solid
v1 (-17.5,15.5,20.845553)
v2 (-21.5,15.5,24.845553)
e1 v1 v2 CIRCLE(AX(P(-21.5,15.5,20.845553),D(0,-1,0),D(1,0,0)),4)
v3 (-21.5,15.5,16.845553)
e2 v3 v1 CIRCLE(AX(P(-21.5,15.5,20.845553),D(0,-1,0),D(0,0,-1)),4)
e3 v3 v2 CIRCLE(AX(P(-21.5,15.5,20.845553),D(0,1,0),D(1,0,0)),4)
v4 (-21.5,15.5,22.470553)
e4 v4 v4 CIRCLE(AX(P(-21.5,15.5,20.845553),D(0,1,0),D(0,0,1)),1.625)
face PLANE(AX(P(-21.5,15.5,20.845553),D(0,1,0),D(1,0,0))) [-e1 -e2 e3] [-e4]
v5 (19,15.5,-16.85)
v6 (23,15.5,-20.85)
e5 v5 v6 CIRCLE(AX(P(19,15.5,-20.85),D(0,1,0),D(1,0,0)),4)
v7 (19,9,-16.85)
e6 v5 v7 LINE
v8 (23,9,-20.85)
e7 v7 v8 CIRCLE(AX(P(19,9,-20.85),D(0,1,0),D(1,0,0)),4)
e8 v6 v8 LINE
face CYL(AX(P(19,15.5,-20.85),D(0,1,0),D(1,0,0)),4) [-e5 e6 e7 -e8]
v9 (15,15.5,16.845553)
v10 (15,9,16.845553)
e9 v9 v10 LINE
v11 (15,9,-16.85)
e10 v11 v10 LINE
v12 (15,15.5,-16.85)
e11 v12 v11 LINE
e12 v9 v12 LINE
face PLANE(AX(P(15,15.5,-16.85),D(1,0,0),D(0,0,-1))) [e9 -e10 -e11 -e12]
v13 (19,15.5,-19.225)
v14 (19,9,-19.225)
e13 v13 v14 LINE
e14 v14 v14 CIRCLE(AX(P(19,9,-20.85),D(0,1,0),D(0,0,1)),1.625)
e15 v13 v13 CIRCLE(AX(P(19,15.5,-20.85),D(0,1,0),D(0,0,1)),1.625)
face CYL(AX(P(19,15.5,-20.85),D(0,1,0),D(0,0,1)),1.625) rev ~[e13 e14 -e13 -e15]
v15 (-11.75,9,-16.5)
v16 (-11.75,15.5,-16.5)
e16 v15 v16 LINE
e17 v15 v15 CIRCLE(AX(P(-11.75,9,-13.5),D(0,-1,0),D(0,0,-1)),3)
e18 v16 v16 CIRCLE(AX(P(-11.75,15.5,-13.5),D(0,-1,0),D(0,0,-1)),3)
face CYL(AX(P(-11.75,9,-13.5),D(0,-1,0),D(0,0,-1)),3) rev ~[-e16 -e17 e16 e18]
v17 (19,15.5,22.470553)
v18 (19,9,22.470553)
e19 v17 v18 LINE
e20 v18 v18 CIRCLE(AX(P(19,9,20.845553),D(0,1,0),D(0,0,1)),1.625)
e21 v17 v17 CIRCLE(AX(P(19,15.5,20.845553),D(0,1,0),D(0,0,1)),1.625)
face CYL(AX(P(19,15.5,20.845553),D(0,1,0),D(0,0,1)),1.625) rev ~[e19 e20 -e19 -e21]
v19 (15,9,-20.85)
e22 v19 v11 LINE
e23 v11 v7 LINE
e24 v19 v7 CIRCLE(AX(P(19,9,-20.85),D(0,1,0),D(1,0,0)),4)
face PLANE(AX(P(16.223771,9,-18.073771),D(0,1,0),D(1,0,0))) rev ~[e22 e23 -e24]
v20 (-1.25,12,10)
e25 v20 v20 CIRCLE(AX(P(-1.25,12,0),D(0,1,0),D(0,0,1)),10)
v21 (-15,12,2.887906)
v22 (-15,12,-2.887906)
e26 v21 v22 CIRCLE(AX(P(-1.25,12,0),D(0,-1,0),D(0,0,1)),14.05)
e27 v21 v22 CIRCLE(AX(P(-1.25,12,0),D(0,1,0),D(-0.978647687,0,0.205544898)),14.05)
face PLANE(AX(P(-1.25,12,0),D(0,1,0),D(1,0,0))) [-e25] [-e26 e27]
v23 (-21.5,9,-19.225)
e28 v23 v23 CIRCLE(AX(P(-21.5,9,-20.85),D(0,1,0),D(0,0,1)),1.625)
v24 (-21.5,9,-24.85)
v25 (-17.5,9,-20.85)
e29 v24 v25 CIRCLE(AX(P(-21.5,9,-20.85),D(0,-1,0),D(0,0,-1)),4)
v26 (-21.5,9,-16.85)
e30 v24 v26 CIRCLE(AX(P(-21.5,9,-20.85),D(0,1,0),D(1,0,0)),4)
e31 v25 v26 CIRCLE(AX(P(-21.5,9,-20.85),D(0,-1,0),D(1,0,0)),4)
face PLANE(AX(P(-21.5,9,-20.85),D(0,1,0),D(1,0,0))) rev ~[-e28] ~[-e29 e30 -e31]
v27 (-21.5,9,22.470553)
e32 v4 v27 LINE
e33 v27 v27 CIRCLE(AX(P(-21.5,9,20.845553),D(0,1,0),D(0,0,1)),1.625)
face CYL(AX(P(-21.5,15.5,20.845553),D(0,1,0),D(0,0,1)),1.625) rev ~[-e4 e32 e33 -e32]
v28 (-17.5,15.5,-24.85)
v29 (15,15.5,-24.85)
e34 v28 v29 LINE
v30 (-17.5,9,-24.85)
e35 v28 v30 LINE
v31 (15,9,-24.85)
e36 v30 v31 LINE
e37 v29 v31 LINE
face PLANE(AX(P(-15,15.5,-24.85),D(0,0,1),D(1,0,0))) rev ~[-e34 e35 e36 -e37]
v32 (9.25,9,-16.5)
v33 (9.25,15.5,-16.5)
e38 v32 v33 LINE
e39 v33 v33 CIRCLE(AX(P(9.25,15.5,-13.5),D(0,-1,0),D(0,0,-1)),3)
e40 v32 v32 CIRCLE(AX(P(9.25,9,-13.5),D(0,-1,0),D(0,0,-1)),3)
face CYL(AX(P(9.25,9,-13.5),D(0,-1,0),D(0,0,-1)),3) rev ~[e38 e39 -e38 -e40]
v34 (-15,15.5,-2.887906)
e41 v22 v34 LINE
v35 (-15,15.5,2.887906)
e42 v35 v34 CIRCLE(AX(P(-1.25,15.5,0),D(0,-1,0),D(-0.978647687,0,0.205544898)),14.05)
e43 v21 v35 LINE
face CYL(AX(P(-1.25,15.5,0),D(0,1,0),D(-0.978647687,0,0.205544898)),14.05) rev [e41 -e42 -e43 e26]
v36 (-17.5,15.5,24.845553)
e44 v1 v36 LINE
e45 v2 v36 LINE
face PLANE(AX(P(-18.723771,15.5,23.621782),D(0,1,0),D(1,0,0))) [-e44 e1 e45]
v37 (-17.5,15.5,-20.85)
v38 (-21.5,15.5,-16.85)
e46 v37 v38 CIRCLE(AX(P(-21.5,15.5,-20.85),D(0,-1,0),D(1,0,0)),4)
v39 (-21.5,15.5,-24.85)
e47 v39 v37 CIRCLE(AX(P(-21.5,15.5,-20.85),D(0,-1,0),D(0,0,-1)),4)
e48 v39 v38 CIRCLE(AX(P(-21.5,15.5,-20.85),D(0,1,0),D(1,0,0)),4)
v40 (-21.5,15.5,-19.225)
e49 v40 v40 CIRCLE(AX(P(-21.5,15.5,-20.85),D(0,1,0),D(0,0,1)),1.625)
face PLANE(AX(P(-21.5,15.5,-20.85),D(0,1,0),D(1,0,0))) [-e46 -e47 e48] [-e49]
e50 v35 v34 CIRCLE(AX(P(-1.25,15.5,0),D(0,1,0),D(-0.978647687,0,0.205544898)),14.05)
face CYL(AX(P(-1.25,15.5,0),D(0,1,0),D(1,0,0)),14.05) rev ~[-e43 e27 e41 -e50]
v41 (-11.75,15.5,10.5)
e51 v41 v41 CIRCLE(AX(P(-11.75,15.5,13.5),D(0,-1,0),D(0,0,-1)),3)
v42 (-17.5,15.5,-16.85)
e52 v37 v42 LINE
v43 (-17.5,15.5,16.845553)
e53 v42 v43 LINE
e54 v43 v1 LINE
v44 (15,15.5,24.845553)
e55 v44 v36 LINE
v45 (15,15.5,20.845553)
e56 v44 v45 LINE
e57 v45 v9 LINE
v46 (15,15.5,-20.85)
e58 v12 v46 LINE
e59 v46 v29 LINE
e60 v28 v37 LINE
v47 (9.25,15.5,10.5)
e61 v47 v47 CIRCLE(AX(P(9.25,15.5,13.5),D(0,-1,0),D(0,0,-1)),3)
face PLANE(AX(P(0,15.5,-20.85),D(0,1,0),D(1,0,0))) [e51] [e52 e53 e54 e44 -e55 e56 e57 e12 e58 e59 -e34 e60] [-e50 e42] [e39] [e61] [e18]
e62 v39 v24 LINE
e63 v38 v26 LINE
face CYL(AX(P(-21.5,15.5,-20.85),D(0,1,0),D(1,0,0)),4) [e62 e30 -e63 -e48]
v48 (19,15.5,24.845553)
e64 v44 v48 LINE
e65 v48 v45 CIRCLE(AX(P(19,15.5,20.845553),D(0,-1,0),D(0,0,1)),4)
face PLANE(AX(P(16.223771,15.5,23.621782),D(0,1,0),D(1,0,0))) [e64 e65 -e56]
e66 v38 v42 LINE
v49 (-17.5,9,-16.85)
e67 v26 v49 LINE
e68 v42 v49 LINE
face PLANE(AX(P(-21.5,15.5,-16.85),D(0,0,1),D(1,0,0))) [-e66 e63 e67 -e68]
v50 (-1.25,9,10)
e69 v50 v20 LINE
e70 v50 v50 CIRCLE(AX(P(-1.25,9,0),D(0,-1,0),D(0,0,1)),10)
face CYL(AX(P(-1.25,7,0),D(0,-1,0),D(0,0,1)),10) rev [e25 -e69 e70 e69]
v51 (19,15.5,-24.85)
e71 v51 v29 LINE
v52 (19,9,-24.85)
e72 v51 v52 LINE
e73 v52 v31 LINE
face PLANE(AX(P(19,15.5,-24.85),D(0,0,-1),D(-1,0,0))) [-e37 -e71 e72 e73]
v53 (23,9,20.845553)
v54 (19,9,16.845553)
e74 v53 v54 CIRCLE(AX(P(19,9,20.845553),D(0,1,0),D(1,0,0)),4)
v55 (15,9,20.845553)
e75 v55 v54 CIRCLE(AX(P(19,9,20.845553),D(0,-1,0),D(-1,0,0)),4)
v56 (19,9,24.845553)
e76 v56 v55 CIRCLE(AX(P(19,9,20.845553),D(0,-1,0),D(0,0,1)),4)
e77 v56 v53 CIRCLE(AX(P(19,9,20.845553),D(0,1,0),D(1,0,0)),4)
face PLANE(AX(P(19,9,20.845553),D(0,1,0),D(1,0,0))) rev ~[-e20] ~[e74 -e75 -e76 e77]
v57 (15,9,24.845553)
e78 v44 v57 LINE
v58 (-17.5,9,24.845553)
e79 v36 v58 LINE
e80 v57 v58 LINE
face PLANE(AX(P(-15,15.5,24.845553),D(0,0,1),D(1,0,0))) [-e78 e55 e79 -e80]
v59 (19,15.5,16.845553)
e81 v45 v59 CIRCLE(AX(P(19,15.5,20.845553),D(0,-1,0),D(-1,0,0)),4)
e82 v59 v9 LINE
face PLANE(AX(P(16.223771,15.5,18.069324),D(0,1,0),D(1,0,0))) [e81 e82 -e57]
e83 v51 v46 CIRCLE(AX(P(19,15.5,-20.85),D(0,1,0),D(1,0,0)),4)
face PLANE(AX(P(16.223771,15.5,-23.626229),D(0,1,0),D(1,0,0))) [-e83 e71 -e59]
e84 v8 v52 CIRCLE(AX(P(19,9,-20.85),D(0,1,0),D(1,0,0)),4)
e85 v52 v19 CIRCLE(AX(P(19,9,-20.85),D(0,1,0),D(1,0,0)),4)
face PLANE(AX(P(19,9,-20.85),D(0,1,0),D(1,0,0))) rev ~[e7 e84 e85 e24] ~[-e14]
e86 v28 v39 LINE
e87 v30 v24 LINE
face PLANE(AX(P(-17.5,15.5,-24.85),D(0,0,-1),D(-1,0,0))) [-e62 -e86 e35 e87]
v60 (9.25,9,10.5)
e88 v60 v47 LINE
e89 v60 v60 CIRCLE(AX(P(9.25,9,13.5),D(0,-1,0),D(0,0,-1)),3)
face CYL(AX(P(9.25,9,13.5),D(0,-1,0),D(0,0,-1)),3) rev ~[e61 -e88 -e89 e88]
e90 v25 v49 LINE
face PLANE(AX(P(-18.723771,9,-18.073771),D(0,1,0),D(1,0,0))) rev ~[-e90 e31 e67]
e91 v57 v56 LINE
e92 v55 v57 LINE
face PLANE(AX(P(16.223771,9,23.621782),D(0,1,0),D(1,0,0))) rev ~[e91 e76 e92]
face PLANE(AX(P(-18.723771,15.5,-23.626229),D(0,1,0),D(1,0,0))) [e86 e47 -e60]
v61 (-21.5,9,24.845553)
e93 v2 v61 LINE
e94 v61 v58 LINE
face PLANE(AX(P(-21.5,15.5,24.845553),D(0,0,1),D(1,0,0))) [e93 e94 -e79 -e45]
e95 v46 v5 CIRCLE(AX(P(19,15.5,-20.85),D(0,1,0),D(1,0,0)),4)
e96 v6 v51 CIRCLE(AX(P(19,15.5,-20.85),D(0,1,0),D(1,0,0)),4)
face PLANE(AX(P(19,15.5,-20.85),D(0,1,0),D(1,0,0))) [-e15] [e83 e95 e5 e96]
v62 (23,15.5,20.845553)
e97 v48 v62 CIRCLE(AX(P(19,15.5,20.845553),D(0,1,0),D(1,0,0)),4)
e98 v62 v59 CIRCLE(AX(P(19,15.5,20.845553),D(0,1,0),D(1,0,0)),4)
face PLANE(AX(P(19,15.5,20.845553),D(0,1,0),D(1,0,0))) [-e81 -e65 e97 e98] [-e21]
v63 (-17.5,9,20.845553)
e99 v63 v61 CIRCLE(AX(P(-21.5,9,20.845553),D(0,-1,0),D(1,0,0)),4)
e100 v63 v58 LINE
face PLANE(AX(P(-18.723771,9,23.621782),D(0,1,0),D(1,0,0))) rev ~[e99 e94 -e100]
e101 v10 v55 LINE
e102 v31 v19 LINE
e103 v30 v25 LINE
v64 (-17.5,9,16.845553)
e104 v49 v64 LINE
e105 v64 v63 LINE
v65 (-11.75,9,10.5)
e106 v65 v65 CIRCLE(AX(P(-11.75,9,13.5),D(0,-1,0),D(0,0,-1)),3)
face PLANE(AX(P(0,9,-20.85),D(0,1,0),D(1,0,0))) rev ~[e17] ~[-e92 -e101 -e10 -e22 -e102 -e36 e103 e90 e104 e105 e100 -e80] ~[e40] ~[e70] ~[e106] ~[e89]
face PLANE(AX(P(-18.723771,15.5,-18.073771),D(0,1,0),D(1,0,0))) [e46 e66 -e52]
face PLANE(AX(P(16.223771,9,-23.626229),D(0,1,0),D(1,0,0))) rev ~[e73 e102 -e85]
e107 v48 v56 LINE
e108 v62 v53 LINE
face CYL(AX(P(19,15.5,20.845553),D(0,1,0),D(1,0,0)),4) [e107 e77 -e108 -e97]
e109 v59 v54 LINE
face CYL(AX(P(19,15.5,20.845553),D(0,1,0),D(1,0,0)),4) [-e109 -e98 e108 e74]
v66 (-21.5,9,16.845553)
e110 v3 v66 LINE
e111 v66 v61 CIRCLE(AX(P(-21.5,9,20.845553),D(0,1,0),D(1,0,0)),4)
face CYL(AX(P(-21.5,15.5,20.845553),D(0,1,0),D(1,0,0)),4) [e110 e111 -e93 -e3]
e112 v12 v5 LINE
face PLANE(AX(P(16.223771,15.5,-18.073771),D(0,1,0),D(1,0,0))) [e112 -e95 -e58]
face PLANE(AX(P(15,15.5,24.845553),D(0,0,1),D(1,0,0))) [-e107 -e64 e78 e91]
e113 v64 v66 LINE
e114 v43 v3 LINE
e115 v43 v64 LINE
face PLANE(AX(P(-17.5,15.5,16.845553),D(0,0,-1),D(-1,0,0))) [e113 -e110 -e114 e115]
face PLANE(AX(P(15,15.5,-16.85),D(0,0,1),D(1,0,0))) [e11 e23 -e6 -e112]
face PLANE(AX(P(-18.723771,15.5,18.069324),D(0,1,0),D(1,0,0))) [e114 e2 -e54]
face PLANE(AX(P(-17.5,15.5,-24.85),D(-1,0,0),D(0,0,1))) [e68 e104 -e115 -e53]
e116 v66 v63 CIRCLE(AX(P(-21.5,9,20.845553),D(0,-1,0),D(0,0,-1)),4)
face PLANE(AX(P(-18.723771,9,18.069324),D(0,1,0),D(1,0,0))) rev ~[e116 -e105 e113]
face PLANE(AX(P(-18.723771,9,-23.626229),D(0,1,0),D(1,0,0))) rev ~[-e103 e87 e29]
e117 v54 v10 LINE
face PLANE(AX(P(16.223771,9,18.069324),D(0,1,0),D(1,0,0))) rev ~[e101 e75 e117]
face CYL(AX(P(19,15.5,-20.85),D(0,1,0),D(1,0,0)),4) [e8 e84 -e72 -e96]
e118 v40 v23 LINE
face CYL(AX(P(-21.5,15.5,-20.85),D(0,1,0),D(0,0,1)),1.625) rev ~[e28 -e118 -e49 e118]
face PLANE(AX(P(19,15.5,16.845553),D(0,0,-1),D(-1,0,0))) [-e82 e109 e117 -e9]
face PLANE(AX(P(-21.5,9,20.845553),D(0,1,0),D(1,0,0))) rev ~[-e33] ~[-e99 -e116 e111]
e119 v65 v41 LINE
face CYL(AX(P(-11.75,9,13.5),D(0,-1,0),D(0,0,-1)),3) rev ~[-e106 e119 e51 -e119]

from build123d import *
from build123d.topology import SkipClean

# Parameters (mm, degrees)
SKETCH1_R            = 1.375
SKETCH1_R_2          = 1.460845326
SKETCH1_R_3          = 1.480655282
BOSS_EXTRUDE1_DEPTH  = 15
BOSS_EXTRUDE2_START  = -8
SKETCH2_R            = 14
SKETCH2_R_2          = 10
BOSS_EXTRUDE2_DEPTH  = 8
CUT_EXTRUDE1_START   = -3
SKETCH3_R            = 14
SKETCH3_R_2          = 10
CUT_EXTRUDE1_DEPTH   = 3
SKETCH5_R            = 1.480655282
SKETCH5_R_2          = 1.375
SKETCH5_R_3          = 1.460845326
BOSS_EXTRUDE3_DEPTH  = 0.5
SKETCH6_W            = 32.415484222
SKETCH6_H            = 34.71462202
CUT_EXTRUDE2_DEPTH   = 7
SKETCH7_W            = 33.435139342
SKETCH7_H            = 35.82697306
CUT_EXTRUDE3_DEPTH   = 2
BOSS_EXTRUDE4_DEPTH  = 6.5
SKETCH9_R            = 3.5
SKETCH9_R_2          = 1.625
CUT_EXTRUDE4_DEPTH   = 3
SKETCH10_R           = 3
CUT_EXTRUDE5_DEPTH   = 28
SKETCH11_R           = 14.05
CUT_EXTRUDE6_DEPTH   = 3.5
SKETCH12_W           = 30
SKETCH12_H           = 8
SKETCH12_H_2         = 7.99555269
BOSS_EXTRUDE5_DEPTH  = 6.5
BOSS_EXTRUDE8_DEPTH  = 6.5
BOSS_EXTRUDE9_START  = -3
SKETCH15_R           = 14.05
SKETCH15_R_2         = 14
BOSS_EXTRUDE9_DEPTH  = 3
SKETCH16_R           = 4
SKETCH16_R_2         = 1.625
BOSS_EXTRUDE10_DEPTH = 6.5


with BuildPart() as part:
    # Sketch1 → Boss-Extrude1 (new body)
    with BuildSketch(Plane(origin=(0, 0, 0), x_dir=(1, 0, 0), z_dir=(0, 1, 0))):
        with BuildLine():
            Line((-15, -16.85), (15, -16.85))
            Line((15, -16.85), (15, 16.85))
            Line((15, 16.85), (-15, 16.85))
            Line((-15, 16.85), (-15, 2.633913438))
            ThreePointArc((-15, 2.633913438), (0.072875656, 13.937359865), (12.75, 0))
            ThreePointArc((12.75, 0), (0.072875656, -13.937359865), (-15, -2.633913438))
            Line((-15, -2.633913438), (-15, -16.85))
        make_face()
        with Locations(Location((-11.75, -13.5, 0), (0, 0, 270))):
            Circle(SKETCH1_R, mode=Mode.SUBTRACT)
        with Locations(Location((9.25, -13.5, 0), (0, 0, 270))):
            Circle(SKETCH1_R_2, mode=Mode.SUBTRACT)
        with Locations(Location((-11.75, 13.5, 0), (0, 0, 270))):
            Circle(SKETCH1_R, mode=Mode.SUBTRACT)
        with Locations(Location((9.25, 13.5, 0), (0, 0, 270))):
            Circle(SKETCH1_R_3, mode=Mode.SUBTRACT)
    extrude(amount=BOSS_EXTRUDE1_DEPTH)

    # Sketch2 → Boss-Extrude2 (add)
    with BuildSketch(Plane(origin=(0, 15, 0), x_dir=(1, 0, 0), z_dir=(0, 1, 0)).offset(BOSS_EXTRUDE2_START)):
        with Locations((-1.25, 0)):
            Circle(SKETCH2_R)
        with Locations(Location((-1.25, 0, 0), (0, 0, 270))):
            Circle(SKETCH2_R_2, mode=Mode.SUBTRACT)
    extrude(amount=BOSS_EXTRUDE2_DEPTH)

    # Sketch3 → Cut-Extrude1 (cut)
    with BuildSketch(Plane(origin=(0, 15, 0), x_dir=(1, 0, 0), z_dir=(0, 1, 0)).offset(CUT_EXTRUDE1_START)):
        with Locations((-1.25, 0)):
            Circle(SKETCH3_R)
        with Locations(Location((-1.25, 0, 0), (0, 0, 270))):
            Circle(SKETCH3_R_2, mode=Mode.SUBTRACT)
    extrude(amount=CUT_EXTRUDE1_DEPTH, mode=Mode.SUBTRACT)

    # Sketch5 → Boss-Extrude3 (add)
    with BuildSketch(Plane(origin=(0, 15, 0), x_dir=(1, 0, 0), z_dir=(0, 1, 0))):
        with BuildLine():
            Line((-15, 16.85), (-15, 2.633913438))
            ThreePointArc((-15, 2.633913438), (12.75, 0), (-15, -2.633913438))
            Line((-15, -2.633913438), (-15, -16.85))
            Line((-15, -16.85), (15, -16.85))
            Line((15, -16.85), (15, 16.85))
            Line((15, 16.85), (-15, 16.85))
        make_face()
        with Locations(Location((9.25, 13.5, 0), (0, 0, 270))):
            Circle(SKETCH5_R, mode=Mode.SUBTRACT)
        with Locations(Location((-11.75, -13.5, 0), (0, 0, 270))):
            Circle(SKETCH5_R_2, mode=Mode.SUBTRACT)
        with Locations(Location((-11.75, 13.5, 0), (0, 0, 270))):
            Circle(SKETCH5_R_2, mode=Mode.SUBTRACT)
        with Locations(Location((9.25, -13.5, 0), (0, 0, 270))):
            Circle(SKETCH5_R_3, mode=Mode.SUBTRACT)
    extrude(amount=BOSS_EXTRUDE3_DEPTH)

    # Sketch6 → Cut-Extrude2 (cut)
    with BuildSketch(Plane.XZ):
        Rectangle(SKETCH6_W, SKETCH6_H)
    extrude(amount=-CUT_EXTRUDE2_DEPTH, mode=Mode.SUBTRACT)

    # Sketch7 → Cut-Extrude3 (cut)
    with BuildSketch(Plane.XZ.offset(-7)):
        Rectangle(SKETCH7_W, SKETCH7_H)
    extrude(amount=-CUT_EXTRUDE3_DEPTH, mode=Mode.SUBTRACT)

    # Sketch8 → Boss-Extrude4 (add)
    with BuildSketch(Plane.XZ.offset(-9)):
        with BuildLine():
            Line((3.5, 16.85), (3.5, 20.35))
            ThreePointArc((3.5, 20.35), (2.474873725, 17.875126257), (-2.6e-08, 16.85))
            Line((-2.6e-08, 16.85), (3.5, 16.85))
        make_face()
        with BuildLine():
            ThreePointArc((-2.6e-08, 16.85), (-2.474873743, 17.875126275), (-3.5, 20.35))
            Line((-3.5, 20.35), (-3.5, 16.85))
            Line((-3.5, 16.85), (-2.6e-08, 16.85))
        make_face()
        with BuildLine():
            ThreePointArc((-1.625, 20.35), (0, 21.975), (1.625, 20.35))
            Line((1.625, 20.35), (3.5, 20.35))
            ThreePointArc((3.5, 20.35), (0, 23.85), (-3.5, 20.35))
            Line((-3.5, 20.35), (-1.625, 20.35))
        make_face()
        with BuildLine():
            Line((3.5, 20.35), (1.625, 20.35))
            ThreePointArc((1.625, 20.35), (0, 18.725), (-1.625, 20.35))
            Line((-1.625, 20.35), (-3.5, 20.35))
            ThreePointArc((-3.5, 20.35), (-2.474873743, 17.875126275), (-2.6e-08, 16.85))
            ThreePointArc((-2.6e-08, 16.85), (2.474873725, 17.875126257), (3.5, 20.35))
        make_face()
        with BuildLine():
            Line((3.5, -20.35), (3.5, -16.85))
            Line((3.5, -16.85), (0, -16.85))
            ThreePointArc((0, -16.85), (2.474873734, -17.875126266), (3.5, -20.35))
        make_face()
        with BuildLine():
            ThreePointArc((-3.5, -20.35), (-2.474873734, -17.875126266), (0, -16.85))
            Line((0, -16.85), (-3.5, -16.85))
            Line((-3.5, -16.85), (-3.5, -20.35))
        make_face()
        with BuildLine():
            ThreePointArc((-3.5, -20.35), (0, -23.85), (3.5, -20.35))
            Line((3.5, -20.35), (1.625, -20.35))
            ThreePointArc((1.625, -20.35), (0, -21.975), (-1.625, -20.35))
            Line((-1.625, -20.35), (-3.5, -20.35))
        make_face()
        with BuildLine():
            Line((1.625, -20.35), (3.5, -20.35))
            ThreePointArc((3.5, -20.35), (2.474873734, -17.875126266), (0, -16.85))
            ThreePointArc((0, -16.85), (-2.474873734, -17.875126266), (-3.5, -20.35))
            Line((-3.5, -20.35), (-1.625, -20.35))
            ThreePointArc((-1.625, -20.35), (0, -18.725), (1.625, -20.35))
        make_face()
    extrude(amount=-BOSS_EXTRUDE4_DEPTH)

    # Sketch9 → Cut-Extrude4 (cut)
    # profile 1 of 2: a face of its own
    with BuildSketch(Plane.XZ.offset(-9)):
        with Locations((0, 20.35)):
            Circle(SKETCH9_R)
        with Locations(Location((0, 20.35, 0), (0, 0, 270))):
            Circle(SKETCH9_R_2, mode=Mode.SUBTRACT)
    # profile 2 of 2: a face of its own
    with BuildSketch(Plane.XZ.offset(-9)):
        with Locations((0, -20.35)):
            Circle(SKETCH9_R)
        with Locations(Location((0, -20.35, 0), (0, 0, 270))):
            Circle(SKETCH9_R_2, mode=Mode.SUBTRACT)
    extrude(amount=-CUT_EXTRUDE4_DEPTH, mode=Mode.SUBTRACT)

    # Sketch10 → Cut-Extrude5 (cut)
    with BuildSketch(Plane.XZ.offset(-9)):
        with Locations(Location((-11.75, 13.5, 0), (0, 0, 270))):
            Circle(SKETCH10_R)
        with Locations(Location((9.25, 13.5, 0), (0, 0, 270))):
            Circle(SKETCH10_R)
        with Locations(Location((9.25, -13.5, 0), (0, 0, 270))):
            Circle(SKETCH10_R)
        with Locations(Location((-11.75, -13.5, 0), (0, 0, 270))):
            Circle(SKETCH10_R)
    extrude(amount=-CUT_EXTRUDE5_DEPTH, mode=Mode.SUBTRACT)

    # Sketch11 → Cut-Extrude6 (cut)
    with BuildSketch(Plane(origin=(0, 15.5, 0), x_dir=(1, 0, 0), z_dir=(0, 1, 0))):
        with Locations((-1.25, 0)):
            Circle(SKETCH11_R)
    extrude(amount=-CUT_EXTRUDE6_DEPTH, mode=Mode.SUBTRACT)

    # Sketch12 → Boss-Extrude5 (add)
    with BuildSketch(Plane(origin=(0, 15.5, 0), x_dir=(1, 0, 0), z_dir=(0, 1, 0))):
        with Locations((0, 20.85)):
            Rectangle(SKETCH12_W, SKETCH12_H)
        with Locations((0, -20.847776345)):
            Rectangle(SKETCH12_W, SKETCH12_H_2)
    extrude(amount=-BOSS_EXTRUDE5_DEPTH)

    # Sketch13 → Boss-Extrude8 (add)
    with SkipClean():  # the faces are left unmerged after this step: merging them gives an invalid solid
        with BuildSketch(Plane(origin=(0, 15.5, 0), x_dir=(1, 0, 0), z_dir=(0, 1, 0))):
            with BuildLine():
                Line((-15, 2.887905816), (-15, 24.85))
                Line((-15, 24.85), (-17.5, 24.85))
                Line((-17.5, 24.85), (-17.5, -24.84555269))
                Line((-17.5, -24.84555269), (-15, -24.84555269))
                Line((-15, -24.84555269), (-15, -2.887905816))
                ThreePointArc((-15, -2.887905816), (-15.3, 0), (-15, 2.887905816))
            make_face()
        extrude(amount=-BOSS_EXTRUDE8_DEPTH)

    # Sketch15 → Boss-Extrude9 (add)
    with BuildSketch(Plane.XZ.offset(-9).offset(BOSS_EXTRUDE9_START)):
        with Locations(Location((-1.25, 0, 0), (0, 0, 90))):
            Circle(SKETCH15_R)
        with Locations((-1.25, 0)):
            Circle(SKETCH15_R_2, mode=Mode.SUBTRACT)
    extrude(amount=BOSS_EXTRUDE9_DEPTH)

    # Sketch16 → Boss-Extrude10 (add)
    # profile 1 of 12: a face of its own
    with SkipClean():  # the faces are left unmerged after this step: merging them gives an invalid solid
        with BuildSketch(Plane(origin=(0, 15.5, 0), x_dir=(1, 0, 0), z_dir=(0, 1, 0))):
            with BuildLine():
                Line((-17.5, 20.85), (-17.5, 24.85))
                Line((-17.5, 24.85), (-21.5, 24.85))
                ThreePointArc((-21.5, 24.85), (-18.671572875, 23.678427125), (-17.5, 20.85))
            make_face()
        # profile 2 of 12: a face of its own
        with BuildSketch(Plane(origin=(0, 15.5, 0), x_dir=(1, 0, 0), z_dir=(0, 1, 0))):
            with BuildLine():
                Line((-17.5, 16.85), (-17.5, 20.85))
                ThreePointArc((-17.5, 20.85), (-18.671572875, 18.021572875), (-21.5, 16.85))
                Line((-21.5, 16.85), (-17.5, 16.85))
            make_face()
        # profile 3 of 12: a face of its own
        with BuildSketch(Plane(origin=(0, 15.5, 0), x_dir=(1, 0, 0), z_dir=(0, 1, 0))):
            with Locations((-21.5, 20.85)):
                Circle(SKETCH16_R)
            with Locations(Location((-21.5, 20.85, 0), (0, 0, 270))):
                Circle(SKETCH16_R_2, mode=Mode.SUBTRACT)
        # profile 4 of 12: a face of its own
        with BuildSketch(Plane(origin=(0, 15.5, 0), x_dir=(1, 0, 0), z_dir=(0, 1, 0))):
            with Locations((19, 20.85)):
                Circle(SKETCH16_R)
            with Locations(Location((19, 20.85, 0), (0, 0, 270))):
                Circle(SKETCH16_R_2, mode=Mode.SUBTRACT)
        # profile 5 of 12: a face of its own
        with BuildSketch(Plane(origin=(0, 15.5, 0), x_dir=(1, 0, 0), z_dir=(0, 1, 0))):
            with BuildLine():
                ThreePointArc((19, 16.85), (16.171572875, 18.021572875), (15, 20.85))
                Line((15, 20.85), (15, 16.85))
                Line((15, 16.85), (19, 16.85))
            make_face()
        # profile 6 of 12: a face of its own
        with BuildSketch(Plane(origin=(0, 15.5, 0), x_dir=(1, 0, 0), z_dir=(0, 1, 0))):
            with BuildLine():
                Line((19, 24.85), (15, 24.85))
                Line((15, 24.85), (15, 20.85))
                ThreePointArc((15, 20.85), (16.171572875, 23.678427125), (19, 24.85))
            make_face()
        # profile 7 of 12: a face of its own
        with BuildSketch(Plane(origin=(0, 15.5, 0), x_dir=(1, 0, 0), z_dir=(0, 1, 0))):
            with BuildLine():
                Line((-17.5, -20.84555269), (-17.5, -16.84555269))
                Line((-17.5, -16.84555269), (-21.5, -16.84555269))
                ThreePointArc((-21.5, -16.84555269), (-18.671572875, -18.017125565), (-17.5, -20.84555269))
            make_face()
        # profile 8 of 12: a face of its own
        with BuildSketch(Plane(origin=(0, 15.5, 0), x_dir=(1, 0, 0), z_dir=(0, 1, 0))):
            with BuildLine():
                Line((-17.5, -24.84555269), (-17.5, -20.84555269))
                ThreePointArc((-17.5, -20.84555269), (-18.671572875, -23.673979815), (-21.5, -24.84555269))
                Line((-21.5, -24.84555269), (-17.5, -24.84555269))
            make_face()
        # profile 9 of 12: a face of its own
        with BuildSketch(Plane(origin=(0, 15.5, 0), x_dir=(1, 0, 0), z_dir=(0, 1, 0))):
            with Locations((-21.5, -20.84555269)):
                Circle(SKETCH16_R)
            with Locations(Location((-21.5, -20.84555269, 0), (0, 0, 270))):
                Circle(SKETCH16_R_2, mode=Mode.SUBTRACT)
        # profile 10 of 12: a face of its own
        with BuildSketch(Plane(origin=(0, 15.5, 0), x_dir=(1, 0, 0), z_dir=(0, 1, 0))):
            with BuildLine():
                Line((19, -16.84555269), (15, -16.84555269))
                Line((15, -16.84555269), (15, -20.84555269))
                ThreePointArc((15, -20.84555269), (16.171572875, -18.017125565), (19, -16.84555269))
            make_face()
        # profile 11 of 12: a face of its own
        with BuildSketch(Plane(origin=(0, 15.5, 0), x_dir=(1, 0, 0), z_dir=(0, 1, 0))):
            with BuildLine():
                ThreePointArc((19, -24.84555269), (16.171572875, -23.673979815), (15, -20.84555269))
                Line((15, -20.84555269), (15, -24.84555269))
                Line((15, -24.84555269), (19, -24.84555269))
            make_face()
        # profile 12 of 12: a face of its own
        with BuildSketch(Plane(origin=(0, 15.5, 0), x_dir=(1, 0, 0), z_dir=(0, 1, 0))):
            with Locations((19, -20.84555269)):
                Circle(SKETCH16_R)
            with Locations(Location((19, -20.84555269, 0), (0, 0, 270))):
                Circle(SKETCH16_R_2, mode=Mode.SUBTRACT)
        extrude(amount=-BOSS_EXTRUDE10_DEPTH)


solid = part.part
